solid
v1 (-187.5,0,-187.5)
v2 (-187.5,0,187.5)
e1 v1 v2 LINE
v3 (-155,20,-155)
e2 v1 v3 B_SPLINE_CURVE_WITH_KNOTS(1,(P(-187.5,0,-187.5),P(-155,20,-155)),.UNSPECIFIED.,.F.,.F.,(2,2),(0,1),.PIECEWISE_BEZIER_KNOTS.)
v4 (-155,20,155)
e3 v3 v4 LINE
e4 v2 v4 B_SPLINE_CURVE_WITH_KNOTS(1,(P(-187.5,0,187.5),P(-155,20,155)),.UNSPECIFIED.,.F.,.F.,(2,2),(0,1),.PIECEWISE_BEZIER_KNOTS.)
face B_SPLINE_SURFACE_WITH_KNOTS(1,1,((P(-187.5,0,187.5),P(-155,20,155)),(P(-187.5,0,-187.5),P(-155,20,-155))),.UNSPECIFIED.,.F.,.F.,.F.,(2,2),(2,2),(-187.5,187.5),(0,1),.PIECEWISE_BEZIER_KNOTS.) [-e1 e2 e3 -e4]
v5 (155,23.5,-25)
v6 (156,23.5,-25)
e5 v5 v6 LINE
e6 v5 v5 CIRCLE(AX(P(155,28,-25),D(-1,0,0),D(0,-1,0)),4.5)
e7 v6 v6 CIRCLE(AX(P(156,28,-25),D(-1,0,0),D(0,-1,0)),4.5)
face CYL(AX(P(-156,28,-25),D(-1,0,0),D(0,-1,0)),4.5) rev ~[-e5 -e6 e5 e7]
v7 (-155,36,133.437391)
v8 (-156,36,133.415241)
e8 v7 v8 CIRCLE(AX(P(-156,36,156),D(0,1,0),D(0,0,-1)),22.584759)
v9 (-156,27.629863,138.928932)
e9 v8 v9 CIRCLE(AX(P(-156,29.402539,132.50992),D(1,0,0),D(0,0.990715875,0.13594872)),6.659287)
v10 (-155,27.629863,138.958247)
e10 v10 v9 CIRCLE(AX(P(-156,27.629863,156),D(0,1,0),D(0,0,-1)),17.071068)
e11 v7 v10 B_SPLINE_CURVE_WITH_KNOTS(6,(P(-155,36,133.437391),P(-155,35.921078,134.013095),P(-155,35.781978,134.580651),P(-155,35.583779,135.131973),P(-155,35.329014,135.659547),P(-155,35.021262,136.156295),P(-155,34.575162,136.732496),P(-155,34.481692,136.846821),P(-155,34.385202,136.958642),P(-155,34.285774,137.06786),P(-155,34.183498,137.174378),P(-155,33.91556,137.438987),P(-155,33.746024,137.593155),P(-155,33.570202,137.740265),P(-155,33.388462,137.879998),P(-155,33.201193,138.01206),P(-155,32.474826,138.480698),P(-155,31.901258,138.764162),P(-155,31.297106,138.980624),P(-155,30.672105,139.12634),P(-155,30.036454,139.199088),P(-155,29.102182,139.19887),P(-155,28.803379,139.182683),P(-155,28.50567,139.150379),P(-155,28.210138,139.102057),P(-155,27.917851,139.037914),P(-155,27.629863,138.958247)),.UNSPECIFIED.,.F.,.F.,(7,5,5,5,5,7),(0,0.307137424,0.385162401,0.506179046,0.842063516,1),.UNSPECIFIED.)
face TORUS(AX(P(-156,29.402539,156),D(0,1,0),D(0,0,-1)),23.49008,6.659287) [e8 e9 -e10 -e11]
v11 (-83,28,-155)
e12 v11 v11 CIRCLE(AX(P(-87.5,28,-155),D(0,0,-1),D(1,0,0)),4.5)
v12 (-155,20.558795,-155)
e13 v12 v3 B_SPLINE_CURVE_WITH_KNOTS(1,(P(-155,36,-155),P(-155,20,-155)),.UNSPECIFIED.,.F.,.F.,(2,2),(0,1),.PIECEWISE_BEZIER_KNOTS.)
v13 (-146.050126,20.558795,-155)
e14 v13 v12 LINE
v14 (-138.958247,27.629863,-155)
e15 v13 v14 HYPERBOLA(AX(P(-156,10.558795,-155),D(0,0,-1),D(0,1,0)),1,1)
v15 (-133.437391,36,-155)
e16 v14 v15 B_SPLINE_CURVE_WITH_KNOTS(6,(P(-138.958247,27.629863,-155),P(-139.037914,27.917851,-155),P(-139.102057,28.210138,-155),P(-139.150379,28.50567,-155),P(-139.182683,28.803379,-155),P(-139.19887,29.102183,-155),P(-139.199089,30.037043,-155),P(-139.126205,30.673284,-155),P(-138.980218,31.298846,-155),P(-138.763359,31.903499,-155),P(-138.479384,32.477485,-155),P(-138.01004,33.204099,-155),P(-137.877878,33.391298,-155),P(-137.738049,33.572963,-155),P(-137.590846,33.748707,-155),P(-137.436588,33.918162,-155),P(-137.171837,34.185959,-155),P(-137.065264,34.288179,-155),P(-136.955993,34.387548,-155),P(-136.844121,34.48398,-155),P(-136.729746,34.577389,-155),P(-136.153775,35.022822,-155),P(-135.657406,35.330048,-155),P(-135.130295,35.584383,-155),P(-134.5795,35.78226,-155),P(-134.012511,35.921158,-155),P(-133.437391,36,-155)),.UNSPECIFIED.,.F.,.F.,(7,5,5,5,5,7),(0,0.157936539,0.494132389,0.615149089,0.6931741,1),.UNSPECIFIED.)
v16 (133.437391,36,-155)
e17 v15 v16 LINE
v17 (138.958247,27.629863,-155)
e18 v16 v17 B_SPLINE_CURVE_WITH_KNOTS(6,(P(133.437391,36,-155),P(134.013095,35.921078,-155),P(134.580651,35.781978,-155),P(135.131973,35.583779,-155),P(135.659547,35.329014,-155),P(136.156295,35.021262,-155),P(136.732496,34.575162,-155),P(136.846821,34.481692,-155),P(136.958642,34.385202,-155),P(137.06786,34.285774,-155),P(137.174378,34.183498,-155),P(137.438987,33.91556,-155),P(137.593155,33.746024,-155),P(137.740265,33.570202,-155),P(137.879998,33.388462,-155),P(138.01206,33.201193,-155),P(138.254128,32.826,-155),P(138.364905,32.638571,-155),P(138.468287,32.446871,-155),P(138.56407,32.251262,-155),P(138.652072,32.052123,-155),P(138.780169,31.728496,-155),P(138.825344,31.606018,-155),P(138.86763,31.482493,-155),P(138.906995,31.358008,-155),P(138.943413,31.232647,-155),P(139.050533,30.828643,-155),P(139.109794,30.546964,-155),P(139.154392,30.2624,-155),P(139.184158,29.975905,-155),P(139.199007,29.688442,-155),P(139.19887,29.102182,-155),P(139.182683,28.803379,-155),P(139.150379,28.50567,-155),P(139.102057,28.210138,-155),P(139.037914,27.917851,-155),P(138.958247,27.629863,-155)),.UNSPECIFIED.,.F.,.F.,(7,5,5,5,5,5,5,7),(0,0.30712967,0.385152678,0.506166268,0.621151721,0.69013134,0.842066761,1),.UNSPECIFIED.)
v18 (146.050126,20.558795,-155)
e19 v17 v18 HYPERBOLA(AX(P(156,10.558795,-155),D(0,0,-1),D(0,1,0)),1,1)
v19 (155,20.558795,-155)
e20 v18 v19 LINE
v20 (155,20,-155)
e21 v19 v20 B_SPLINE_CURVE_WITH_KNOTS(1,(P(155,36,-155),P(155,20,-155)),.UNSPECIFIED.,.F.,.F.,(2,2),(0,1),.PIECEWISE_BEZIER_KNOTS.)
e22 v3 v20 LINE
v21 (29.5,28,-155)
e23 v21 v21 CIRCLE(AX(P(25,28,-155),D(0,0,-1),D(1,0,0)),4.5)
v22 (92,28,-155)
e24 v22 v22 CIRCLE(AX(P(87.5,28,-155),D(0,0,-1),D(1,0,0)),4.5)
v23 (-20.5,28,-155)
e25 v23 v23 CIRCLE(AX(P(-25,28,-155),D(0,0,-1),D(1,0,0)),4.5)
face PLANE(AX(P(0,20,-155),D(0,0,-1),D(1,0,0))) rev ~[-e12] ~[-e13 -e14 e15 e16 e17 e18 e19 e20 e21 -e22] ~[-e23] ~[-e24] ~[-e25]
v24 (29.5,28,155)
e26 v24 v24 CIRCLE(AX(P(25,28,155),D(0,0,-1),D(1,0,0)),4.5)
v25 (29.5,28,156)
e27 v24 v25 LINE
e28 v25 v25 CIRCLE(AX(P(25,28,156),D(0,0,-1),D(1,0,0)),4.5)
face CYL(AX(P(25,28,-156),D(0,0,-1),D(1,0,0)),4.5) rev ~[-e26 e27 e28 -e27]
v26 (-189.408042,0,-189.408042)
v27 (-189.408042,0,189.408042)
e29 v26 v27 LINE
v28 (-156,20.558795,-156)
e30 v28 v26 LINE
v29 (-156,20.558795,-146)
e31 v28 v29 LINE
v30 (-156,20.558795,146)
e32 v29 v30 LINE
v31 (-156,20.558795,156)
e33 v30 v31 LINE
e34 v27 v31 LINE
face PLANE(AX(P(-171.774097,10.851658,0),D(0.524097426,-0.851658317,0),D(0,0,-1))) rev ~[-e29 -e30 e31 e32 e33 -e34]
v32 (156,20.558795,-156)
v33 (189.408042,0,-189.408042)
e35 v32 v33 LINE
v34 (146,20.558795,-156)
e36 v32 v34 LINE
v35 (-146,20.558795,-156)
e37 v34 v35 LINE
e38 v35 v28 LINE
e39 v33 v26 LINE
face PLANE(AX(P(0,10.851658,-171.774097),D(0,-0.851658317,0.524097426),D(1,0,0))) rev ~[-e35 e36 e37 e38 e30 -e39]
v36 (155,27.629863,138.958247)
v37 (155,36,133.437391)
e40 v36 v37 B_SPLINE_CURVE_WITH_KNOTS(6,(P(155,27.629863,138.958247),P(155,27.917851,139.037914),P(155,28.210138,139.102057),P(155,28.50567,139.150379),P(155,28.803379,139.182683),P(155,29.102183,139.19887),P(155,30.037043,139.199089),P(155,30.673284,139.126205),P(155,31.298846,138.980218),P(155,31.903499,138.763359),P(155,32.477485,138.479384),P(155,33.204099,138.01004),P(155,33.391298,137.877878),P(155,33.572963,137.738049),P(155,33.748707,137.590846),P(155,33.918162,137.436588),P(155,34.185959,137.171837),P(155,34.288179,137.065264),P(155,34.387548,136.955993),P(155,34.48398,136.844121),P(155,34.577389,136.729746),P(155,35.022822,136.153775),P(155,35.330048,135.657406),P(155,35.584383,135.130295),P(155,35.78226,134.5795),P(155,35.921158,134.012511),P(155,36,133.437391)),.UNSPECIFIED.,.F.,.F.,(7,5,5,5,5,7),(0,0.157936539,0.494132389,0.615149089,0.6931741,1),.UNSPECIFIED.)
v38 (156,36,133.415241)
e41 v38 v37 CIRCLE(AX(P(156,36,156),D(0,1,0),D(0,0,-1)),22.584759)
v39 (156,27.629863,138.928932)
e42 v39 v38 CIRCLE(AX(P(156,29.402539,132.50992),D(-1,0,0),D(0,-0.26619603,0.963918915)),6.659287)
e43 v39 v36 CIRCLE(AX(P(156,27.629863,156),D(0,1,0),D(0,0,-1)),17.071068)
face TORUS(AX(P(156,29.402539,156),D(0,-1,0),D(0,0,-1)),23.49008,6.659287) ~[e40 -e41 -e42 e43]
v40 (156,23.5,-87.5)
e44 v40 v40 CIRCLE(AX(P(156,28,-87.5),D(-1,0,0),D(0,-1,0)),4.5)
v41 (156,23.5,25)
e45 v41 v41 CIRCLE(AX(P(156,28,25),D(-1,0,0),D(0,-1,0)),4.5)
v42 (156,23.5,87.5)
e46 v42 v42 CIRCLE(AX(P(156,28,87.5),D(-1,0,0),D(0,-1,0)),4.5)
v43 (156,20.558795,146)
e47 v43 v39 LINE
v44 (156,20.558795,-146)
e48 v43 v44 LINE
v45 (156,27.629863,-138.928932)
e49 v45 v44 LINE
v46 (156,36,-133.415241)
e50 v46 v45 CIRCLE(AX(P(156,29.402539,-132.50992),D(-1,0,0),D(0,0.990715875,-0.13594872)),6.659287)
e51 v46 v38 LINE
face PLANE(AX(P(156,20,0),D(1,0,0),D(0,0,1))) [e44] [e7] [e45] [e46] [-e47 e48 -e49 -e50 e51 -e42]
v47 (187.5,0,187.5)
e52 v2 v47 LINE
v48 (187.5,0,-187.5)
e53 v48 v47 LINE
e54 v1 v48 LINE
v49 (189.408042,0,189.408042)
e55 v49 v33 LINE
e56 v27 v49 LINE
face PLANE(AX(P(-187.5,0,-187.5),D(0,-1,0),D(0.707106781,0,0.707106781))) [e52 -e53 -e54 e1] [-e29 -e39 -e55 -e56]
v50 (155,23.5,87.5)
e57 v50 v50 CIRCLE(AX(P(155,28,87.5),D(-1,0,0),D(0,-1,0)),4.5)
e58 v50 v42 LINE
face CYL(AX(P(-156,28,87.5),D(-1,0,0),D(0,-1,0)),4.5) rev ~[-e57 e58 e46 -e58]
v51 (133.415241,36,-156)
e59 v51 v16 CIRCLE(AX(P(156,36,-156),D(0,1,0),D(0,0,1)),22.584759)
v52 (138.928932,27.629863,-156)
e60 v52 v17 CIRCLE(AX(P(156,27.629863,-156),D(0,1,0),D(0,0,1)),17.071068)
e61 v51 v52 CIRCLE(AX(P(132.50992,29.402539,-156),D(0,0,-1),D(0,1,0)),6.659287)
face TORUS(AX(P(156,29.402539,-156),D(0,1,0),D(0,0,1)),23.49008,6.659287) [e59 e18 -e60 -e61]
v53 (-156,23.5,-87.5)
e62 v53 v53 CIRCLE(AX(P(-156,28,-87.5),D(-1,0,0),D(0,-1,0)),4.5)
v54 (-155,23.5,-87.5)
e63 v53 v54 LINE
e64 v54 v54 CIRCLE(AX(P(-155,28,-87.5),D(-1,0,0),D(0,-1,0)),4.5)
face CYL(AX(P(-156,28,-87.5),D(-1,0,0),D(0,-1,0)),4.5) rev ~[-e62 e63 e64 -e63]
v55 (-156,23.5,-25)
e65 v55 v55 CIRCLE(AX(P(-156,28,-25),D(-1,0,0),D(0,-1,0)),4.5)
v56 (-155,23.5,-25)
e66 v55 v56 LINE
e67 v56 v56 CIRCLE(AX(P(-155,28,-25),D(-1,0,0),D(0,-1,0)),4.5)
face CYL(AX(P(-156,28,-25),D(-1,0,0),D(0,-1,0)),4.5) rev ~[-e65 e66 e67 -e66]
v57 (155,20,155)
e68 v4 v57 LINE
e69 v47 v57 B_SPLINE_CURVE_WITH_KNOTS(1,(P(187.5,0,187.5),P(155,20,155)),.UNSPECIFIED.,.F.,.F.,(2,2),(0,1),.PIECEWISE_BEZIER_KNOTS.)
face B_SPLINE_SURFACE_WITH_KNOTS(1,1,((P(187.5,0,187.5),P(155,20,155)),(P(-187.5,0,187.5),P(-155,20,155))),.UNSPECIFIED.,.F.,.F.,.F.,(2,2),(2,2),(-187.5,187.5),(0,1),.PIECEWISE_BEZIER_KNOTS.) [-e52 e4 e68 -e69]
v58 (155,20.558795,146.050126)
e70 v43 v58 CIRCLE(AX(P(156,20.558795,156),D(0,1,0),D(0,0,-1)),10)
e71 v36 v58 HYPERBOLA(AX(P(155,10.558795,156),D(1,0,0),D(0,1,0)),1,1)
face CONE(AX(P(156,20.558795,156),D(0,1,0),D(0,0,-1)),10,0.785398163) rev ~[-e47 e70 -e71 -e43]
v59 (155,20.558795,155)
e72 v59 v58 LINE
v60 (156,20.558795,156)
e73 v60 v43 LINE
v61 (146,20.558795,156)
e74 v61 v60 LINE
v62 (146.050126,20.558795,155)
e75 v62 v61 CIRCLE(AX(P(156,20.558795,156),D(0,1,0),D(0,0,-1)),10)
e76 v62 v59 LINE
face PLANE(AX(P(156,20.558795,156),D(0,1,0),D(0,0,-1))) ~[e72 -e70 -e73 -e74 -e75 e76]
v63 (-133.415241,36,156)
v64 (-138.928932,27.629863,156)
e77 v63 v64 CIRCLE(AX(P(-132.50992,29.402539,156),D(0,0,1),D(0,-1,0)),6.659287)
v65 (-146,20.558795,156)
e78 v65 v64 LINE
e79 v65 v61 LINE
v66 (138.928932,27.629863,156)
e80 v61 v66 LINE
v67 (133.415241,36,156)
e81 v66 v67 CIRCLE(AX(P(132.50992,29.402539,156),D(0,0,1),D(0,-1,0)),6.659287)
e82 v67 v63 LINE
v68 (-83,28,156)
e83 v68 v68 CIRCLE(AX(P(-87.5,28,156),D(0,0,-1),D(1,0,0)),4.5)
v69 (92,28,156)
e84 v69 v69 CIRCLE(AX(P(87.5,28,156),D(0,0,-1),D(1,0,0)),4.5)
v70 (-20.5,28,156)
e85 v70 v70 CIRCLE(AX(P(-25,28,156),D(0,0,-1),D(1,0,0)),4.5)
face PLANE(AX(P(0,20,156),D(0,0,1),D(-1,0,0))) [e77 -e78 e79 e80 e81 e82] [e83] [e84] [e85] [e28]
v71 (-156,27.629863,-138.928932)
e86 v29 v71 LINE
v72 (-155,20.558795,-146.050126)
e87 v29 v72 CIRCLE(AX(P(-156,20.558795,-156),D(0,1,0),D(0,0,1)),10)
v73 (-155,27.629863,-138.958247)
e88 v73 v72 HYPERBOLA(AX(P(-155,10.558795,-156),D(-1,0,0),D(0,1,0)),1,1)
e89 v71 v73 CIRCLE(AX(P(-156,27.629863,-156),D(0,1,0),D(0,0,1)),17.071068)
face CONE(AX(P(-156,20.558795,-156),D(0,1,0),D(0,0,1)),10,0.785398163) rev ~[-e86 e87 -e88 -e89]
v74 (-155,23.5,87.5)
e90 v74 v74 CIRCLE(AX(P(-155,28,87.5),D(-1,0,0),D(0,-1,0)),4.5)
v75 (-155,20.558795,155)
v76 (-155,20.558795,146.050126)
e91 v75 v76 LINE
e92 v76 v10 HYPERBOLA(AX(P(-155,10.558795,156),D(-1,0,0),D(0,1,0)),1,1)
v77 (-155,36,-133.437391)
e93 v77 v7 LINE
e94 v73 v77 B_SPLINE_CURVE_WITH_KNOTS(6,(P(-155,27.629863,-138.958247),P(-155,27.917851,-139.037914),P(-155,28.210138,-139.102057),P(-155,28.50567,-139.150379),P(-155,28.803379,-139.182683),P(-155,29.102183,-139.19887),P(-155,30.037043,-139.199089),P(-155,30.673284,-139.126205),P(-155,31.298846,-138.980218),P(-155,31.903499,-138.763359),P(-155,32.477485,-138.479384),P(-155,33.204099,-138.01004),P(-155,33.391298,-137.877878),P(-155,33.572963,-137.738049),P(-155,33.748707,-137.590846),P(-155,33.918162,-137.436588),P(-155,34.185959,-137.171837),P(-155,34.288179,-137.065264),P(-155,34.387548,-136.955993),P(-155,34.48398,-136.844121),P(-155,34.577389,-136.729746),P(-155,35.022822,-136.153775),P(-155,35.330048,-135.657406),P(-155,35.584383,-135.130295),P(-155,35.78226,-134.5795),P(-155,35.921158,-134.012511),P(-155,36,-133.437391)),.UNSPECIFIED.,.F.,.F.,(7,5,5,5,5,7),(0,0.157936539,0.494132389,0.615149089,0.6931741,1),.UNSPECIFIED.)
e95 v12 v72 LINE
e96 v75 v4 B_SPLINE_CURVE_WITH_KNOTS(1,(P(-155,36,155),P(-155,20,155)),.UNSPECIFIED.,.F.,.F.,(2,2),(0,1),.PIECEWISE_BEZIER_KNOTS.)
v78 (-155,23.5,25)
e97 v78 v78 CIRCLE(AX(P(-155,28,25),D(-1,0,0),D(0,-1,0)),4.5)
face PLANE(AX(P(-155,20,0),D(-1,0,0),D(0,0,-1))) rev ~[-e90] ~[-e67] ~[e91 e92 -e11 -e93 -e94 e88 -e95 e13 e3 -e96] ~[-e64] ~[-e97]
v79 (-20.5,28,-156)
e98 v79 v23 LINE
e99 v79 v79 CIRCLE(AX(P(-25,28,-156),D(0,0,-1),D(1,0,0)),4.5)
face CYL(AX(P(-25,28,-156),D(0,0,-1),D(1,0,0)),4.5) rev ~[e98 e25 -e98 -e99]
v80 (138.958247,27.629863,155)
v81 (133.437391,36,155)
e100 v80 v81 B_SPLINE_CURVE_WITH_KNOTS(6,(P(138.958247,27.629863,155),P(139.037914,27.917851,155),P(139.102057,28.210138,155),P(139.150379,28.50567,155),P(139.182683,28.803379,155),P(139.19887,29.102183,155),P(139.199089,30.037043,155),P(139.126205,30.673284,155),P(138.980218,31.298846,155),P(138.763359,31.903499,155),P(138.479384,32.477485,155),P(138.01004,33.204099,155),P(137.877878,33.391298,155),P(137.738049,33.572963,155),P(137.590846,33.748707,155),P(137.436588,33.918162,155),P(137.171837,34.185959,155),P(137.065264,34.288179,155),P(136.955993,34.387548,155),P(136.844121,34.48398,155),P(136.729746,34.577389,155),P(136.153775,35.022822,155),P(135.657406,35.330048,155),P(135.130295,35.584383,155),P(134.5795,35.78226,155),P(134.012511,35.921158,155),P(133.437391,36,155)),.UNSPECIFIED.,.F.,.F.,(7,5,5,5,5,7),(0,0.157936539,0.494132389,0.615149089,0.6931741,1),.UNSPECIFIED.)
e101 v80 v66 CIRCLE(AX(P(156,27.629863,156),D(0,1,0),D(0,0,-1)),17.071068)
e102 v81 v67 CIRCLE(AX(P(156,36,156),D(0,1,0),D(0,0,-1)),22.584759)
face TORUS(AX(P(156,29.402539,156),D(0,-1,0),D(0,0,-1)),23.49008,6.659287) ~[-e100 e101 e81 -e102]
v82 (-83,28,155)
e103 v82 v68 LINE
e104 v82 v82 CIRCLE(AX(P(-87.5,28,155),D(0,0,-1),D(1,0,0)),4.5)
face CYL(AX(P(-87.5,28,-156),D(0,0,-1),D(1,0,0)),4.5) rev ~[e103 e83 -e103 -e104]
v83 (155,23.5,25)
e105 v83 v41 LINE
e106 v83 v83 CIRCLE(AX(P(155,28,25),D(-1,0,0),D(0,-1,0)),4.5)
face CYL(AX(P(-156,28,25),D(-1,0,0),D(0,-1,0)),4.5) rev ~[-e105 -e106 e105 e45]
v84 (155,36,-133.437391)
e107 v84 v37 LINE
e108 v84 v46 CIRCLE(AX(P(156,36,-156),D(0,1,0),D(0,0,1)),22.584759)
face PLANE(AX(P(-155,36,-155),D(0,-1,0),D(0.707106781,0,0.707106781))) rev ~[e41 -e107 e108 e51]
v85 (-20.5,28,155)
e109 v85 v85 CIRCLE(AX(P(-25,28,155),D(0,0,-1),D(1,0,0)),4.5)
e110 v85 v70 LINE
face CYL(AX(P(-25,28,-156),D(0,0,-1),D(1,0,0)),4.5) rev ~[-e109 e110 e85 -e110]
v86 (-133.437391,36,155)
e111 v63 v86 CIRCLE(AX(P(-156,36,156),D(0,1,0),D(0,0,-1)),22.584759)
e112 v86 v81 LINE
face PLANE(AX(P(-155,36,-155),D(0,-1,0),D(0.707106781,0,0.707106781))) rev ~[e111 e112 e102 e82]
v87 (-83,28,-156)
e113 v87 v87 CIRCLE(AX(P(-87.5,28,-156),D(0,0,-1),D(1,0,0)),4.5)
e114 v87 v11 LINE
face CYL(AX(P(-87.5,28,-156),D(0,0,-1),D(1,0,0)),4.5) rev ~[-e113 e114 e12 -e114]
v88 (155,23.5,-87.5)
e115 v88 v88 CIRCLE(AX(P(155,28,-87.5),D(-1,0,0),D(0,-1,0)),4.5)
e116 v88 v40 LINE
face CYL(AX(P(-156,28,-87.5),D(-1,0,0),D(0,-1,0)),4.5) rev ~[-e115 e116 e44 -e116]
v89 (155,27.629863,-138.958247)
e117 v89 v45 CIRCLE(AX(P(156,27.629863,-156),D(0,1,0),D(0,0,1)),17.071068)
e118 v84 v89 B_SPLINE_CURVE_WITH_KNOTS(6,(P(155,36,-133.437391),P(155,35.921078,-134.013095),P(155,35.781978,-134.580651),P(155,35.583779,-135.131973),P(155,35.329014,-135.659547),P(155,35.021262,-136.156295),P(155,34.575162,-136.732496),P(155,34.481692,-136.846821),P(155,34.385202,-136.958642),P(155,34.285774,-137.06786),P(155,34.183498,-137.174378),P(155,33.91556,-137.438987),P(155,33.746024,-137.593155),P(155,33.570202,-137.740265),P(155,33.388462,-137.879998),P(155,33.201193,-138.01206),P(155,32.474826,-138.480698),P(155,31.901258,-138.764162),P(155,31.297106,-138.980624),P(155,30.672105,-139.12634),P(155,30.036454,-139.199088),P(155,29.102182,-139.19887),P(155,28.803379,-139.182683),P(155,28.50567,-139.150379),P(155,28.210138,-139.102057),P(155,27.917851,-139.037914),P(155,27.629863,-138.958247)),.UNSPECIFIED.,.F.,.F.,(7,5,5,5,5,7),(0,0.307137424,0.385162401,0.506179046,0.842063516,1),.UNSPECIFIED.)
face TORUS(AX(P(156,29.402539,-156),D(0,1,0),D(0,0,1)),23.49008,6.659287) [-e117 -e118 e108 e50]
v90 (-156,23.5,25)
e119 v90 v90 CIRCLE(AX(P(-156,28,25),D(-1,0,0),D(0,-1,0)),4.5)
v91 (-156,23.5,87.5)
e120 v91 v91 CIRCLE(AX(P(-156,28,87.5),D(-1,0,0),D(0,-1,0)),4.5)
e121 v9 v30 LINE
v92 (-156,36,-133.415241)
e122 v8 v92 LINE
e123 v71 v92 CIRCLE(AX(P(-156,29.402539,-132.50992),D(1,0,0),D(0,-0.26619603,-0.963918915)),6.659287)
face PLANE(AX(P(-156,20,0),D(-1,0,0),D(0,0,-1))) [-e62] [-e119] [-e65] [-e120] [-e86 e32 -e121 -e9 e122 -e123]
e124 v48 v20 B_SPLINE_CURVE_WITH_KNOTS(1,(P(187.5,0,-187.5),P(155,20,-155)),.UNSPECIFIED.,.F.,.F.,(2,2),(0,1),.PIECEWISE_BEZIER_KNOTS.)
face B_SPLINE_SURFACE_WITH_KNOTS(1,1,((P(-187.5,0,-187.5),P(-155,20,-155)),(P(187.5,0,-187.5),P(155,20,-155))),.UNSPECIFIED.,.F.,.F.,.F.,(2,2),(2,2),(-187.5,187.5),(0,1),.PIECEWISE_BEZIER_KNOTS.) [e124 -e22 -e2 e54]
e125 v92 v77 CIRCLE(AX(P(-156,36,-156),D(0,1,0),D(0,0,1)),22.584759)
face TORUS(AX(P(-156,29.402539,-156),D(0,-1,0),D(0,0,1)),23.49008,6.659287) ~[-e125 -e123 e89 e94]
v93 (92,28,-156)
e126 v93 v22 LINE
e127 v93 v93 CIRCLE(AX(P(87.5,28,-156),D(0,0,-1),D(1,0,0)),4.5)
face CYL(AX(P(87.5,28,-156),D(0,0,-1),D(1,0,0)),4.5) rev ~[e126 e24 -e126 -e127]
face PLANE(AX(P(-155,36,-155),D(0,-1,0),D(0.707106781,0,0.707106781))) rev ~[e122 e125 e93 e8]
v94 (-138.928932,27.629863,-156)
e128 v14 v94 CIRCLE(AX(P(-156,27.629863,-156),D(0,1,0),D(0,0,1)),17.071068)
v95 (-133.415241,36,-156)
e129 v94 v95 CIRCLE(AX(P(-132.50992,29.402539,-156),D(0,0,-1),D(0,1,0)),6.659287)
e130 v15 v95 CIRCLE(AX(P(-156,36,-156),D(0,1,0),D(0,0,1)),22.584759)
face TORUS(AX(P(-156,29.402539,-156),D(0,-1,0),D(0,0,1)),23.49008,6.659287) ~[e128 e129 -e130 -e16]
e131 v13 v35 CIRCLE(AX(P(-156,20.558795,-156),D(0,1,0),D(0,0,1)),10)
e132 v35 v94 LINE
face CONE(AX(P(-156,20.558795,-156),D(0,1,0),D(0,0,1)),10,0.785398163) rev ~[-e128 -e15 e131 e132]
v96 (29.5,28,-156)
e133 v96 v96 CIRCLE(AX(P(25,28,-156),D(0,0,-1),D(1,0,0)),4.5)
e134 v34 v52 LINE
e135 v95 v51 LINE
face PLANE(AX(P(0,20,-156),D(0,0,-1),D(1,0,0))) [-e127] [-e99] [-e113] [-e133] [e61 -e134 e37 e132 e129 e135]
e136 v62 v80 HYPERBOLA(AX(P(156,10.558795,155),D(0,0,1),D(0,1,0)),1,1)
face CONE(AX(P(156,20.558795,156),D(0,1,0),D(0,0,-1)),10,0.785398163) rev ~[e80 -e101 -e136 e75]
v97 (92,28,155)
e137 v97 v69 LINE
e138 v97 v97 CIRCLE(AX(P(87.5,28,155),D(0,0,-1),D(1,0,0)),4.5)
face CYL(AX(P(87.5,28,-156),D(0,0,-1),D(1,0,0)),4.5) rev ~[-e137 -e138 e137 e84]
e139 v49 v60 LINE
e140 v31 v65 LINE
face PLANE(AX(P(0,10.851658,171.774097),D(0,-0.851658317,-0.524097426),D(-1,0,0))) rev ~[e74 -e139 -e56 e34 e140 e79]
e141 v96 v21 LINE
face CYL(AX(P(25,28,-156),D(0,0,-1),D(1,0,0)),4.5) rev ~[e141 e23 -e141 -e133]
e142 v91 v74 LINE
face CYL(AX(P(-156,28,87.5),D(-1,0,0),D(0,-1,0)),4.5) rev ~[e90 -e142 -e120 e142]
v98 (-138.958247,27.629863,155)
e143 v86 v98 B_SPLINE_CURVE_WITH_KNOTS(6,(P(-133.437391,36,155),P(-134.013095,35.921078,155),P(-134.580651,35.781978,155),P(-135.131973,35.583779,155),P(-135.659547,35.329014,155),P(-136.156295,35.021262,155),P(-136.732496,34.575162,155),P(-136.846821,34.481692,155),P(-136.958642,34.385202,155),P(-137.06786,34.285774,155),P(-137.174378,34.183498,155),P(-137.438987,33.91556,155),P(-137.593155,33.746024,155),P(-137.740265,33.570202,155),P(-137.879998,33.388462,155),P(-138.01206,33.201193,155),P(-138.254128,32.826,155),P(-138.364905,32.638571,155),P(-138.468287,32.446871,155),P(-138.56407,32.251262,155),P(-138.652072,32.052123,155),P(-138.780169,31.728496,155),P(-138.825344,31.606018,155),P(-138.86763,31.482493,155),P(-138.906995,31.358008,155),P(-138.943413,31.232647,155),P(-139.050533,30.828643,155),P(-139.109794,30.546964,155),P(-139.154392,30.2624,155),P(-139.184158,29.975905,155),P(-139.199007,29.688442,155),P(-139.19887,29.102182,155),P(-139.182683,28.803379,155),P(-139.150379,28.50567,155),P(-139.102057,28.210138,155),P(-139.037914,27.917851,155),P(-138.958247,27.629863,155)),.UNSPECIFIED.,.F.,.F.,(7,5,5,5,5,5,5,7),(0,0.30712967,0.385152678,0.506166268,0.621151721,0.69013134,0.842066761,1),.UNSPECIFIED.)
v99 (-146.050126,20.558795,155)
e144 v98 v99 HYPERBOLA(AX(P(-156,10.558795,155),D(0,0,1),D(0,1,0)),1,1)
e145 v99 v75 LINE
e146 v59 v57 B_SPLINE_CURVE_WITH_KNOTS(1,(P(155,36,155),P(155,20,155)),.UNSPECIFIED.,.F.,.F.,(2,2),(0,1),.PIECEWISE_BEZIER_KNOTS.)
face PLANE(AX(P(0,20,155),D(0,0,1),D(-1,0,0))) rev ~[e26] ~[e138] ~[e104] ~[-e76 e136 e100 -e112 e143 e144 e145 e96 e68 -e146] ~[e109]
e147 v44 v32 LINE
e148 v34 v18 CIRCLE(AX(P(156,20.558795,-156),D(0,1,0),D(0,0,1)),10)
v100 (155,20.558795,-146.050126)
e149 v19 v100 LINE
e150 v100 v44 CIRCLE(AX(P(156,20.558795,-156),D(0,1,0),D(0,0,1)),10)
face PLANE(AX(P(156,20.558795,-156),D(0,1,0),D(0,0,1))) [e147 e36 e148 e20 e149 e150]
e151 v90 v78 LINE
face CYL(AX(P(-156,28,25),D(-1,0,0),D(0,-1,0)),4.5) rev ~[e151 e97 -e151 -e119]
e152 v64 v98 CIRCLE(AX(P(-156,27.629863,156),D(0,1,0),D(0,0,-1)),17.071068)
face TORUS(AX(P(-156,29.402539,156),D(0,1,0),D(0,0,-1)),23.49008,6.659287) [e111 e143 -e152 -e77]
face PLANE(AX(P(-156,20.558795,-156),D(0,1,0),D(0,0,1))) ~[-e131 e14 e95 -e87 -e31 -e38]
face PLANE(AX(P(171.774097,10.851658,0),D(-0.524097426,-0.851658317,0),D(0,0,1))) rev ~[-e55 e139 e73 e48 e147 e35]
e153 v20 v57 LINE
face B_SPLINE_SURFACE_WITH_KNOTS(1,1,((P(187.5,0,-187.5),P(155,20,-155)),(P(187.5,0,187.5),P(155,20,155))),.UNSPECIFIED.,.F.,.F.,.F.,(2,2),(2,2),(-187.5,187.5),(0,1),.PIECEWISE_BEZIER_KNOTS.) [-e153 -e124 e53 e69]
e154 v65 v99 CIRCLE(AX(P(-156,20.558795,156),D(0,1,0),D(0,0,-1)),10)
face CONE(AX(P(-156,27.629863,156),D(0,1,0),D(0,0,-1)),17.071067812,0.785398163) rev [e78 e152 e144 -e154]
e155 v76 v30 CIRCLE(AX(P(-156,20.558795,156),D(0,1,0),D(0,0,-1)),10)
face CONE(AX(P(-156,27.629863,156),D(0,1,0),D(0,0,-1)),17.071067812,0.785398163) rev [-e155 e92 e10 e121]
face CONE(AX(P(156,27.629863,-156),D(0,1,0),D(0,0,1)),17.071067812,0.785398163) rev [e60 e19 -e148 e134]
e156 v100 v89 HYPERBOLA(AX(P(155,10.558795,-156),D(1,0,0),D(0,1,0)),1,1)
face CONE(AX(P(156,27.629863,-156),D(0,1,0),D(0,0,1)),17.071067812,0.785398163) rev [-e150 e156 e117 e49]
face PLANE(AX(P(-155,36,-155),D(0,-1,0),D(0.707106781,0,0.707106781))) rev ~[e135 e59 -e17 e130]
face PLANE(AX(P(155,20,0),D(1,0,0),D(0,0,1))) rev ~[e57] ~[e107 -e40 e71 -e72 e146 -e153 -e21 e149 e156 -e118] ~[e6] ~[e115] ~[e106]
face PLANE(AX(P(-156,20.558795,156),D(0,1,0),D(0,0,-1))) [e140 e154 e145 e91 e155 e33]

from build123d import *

# Parameters (mm, degrees)
F0_W      = 375
F0_H      = 375
F2_W      = 310
F2_H      = 310
F5_W      = 310
F5_H      = 310
F3_FACE_W = 310
F3_FACE_H = 310
F7_T      = 1
F14_R     = 4.5
F15_DEPTH = 345.4090421903
F16_R     = 4.5
F17_DEPTH = 345.4090421903


with BuildPart() as f3:
    # F0 (on Front) → F3 section 0
    with BuildSketch(Plane.XZ):
        Rectangle(F0_W, F0_H)
    # F2 (on offset) → F3 section 1
    with BuildSketch(Plane.XZ.offset(-20)):
        Rectangle(F2_W, F2_H)
    loft()

    # F5 (on offset) → F6 section 0
    with BuildSketch(Plane.XZ.offset(-36)):
        Rectangle(F5_W, F5_H)
    # F3_face (on face) → F6 section 1
    with BuildSketch(Plane(origin=(0, 20, 0), x_dir=(-1, 0, 0), z_dir=(0, 1, 0))):
        Rectangle(F3_FACE_W, F3_FACE_H)
    loft()

    # F7
    f7_openings = [f3.faces().sort_by_distance(p)[0] for p in [
        (0, 0, 0),
        (0, 36, 0),
    ]]
    offset(amount=F7_T, openings=f7_openings, kind=Kind.INTERSECTION)

    # F8 (on face) → F9 (revolve, cut)
    with BuildSketch(Plane(origin=(-156, 0, 0), x_dir=(0, -1, 0), z_dir=(-1, 0, 0))):
        with BuildLine():
            Line((-20.558795194, 146), (-20.558795194, 156))
            Line((-20.558795194, 156), (-36, 156))
            Line((-36, 156), (-36, 133.4152411143))
            ThreePointArc((-36, 133.4152411143), (-33.0658481949, 138.0710584905), (-27.6298630059, 138.9289321881))
            Line((-27.6298630059, 138.9289321881), (-20.558795194, 146))
        make_face()
    revolve(axis=Axis((-156, 28.279397597, 156), (0, 1, 0)), mode=Mode.SUBTRACT)

    # F8 (on face) → F10 (revolve, cut)
    with BuildSketch(Plane(origin=(-156, 0, 0), x_dir=(0, -1, 0), z_dir=(-1, 0, 0))):
        with BuildLine():
            Line((-36, -156), (-20.558795194, -156))
            Line((-20.558795194, -156), (-20.558795194, -146))
            Line((-20.558795194, -146), (-27.6298630059, -138.9289321881))
            ThreePointArc((-27.6298630059, -138.9289321881), (-33.0658481949, -138.0710584905), (-36, -133.4152411143))
            Line((-36, -133.4152411143), (-36, -156))
        make_face()
    revolve(axis=Axis((-156, 28.279397597, -156), (0, 1, 0)), mode=Mode.SUBTRACT)

    # F11 (on face) → F12 (revolve, cut)
    with BuildSketch(Plane.YZ.offset(156)):
        with BuildLine():
            Line((27.6298630059, -138.9289321881), (20.558795194, -146))
            Line((20.558795194, -146), (20.558795194, -156))
            Line((20.558795194, -156), (36, -156))
            Line((36, -156), (36, -133.4152411143))
            ThreePointArc((36, -133.4152411143), (33.0658481949, -138.0710584905), (27.6298630059, -138.9289321881))
        make_face()
    revolve(axis=Axis((156, 28.279397597, -156), (0, 1, 0)), mode=Mode.SUBTRACT)

    # F11 (on face) → F13 (revolve, cut)
    with BuildSketch(Plane.YZ.offset(156)):
        with BuildLine():
            Line((36, 156), (20.558795194, 156))
            Line((20.558795194, 156), (20.558795194, 146))
            Line((20.558795194, 146), (27.6298630059, 138.9289321881))
            ThreePointArc((27.6298630059, 138.9289321881), (33.0658481949, 138.0710584905), (36, 133.4152411143))
            Line((36, 133.4152411143), (36, 156))
        make_face()
    revolve(axis=Axis((156, 28.279397597, 156), (0, 1, 0)), mode=Mode.SUBTRACT)

    # F14 (on face) → F15 (cut, through all)
    with BuildSketch(Plane(origin=(0, 0, -156), x_dir=(1, 0, 0), z_dir=(0, 0, -1))):
        with Locations((-25, -28)):
            Circle(F14_R)
        with Locations((25, -28)):
            Circle(F14_R)
        with Locations((-87.5, -28)):
            Circle(F14_R)
        with Locations((87.5, -28)):
            Circle(F14_R)
    extrude(amount=-F15_DEPTH, mode=Mode.SUBTRACT)

    # F16 (on face) → F17 (cut, through all)
    with BuildSketch(Plane(origin=(-156, 0, 0), x_dir=(0, -1, 0), z_dir=(-1, 0, 0))):
        with Locations((-28, 25)):
            Circle(F16_R)
        with Locations((-28, 87.5)):
            Circle(F16_R)
        with Locations((-28, -25)):
            Circle(F16_R)
        with Locations((-28, -87.5)):
            Circle(F16_R)
    extrude(amount=-F17_DEPTH, mode=Mode.SUBTRACT)


solid = f3.part
